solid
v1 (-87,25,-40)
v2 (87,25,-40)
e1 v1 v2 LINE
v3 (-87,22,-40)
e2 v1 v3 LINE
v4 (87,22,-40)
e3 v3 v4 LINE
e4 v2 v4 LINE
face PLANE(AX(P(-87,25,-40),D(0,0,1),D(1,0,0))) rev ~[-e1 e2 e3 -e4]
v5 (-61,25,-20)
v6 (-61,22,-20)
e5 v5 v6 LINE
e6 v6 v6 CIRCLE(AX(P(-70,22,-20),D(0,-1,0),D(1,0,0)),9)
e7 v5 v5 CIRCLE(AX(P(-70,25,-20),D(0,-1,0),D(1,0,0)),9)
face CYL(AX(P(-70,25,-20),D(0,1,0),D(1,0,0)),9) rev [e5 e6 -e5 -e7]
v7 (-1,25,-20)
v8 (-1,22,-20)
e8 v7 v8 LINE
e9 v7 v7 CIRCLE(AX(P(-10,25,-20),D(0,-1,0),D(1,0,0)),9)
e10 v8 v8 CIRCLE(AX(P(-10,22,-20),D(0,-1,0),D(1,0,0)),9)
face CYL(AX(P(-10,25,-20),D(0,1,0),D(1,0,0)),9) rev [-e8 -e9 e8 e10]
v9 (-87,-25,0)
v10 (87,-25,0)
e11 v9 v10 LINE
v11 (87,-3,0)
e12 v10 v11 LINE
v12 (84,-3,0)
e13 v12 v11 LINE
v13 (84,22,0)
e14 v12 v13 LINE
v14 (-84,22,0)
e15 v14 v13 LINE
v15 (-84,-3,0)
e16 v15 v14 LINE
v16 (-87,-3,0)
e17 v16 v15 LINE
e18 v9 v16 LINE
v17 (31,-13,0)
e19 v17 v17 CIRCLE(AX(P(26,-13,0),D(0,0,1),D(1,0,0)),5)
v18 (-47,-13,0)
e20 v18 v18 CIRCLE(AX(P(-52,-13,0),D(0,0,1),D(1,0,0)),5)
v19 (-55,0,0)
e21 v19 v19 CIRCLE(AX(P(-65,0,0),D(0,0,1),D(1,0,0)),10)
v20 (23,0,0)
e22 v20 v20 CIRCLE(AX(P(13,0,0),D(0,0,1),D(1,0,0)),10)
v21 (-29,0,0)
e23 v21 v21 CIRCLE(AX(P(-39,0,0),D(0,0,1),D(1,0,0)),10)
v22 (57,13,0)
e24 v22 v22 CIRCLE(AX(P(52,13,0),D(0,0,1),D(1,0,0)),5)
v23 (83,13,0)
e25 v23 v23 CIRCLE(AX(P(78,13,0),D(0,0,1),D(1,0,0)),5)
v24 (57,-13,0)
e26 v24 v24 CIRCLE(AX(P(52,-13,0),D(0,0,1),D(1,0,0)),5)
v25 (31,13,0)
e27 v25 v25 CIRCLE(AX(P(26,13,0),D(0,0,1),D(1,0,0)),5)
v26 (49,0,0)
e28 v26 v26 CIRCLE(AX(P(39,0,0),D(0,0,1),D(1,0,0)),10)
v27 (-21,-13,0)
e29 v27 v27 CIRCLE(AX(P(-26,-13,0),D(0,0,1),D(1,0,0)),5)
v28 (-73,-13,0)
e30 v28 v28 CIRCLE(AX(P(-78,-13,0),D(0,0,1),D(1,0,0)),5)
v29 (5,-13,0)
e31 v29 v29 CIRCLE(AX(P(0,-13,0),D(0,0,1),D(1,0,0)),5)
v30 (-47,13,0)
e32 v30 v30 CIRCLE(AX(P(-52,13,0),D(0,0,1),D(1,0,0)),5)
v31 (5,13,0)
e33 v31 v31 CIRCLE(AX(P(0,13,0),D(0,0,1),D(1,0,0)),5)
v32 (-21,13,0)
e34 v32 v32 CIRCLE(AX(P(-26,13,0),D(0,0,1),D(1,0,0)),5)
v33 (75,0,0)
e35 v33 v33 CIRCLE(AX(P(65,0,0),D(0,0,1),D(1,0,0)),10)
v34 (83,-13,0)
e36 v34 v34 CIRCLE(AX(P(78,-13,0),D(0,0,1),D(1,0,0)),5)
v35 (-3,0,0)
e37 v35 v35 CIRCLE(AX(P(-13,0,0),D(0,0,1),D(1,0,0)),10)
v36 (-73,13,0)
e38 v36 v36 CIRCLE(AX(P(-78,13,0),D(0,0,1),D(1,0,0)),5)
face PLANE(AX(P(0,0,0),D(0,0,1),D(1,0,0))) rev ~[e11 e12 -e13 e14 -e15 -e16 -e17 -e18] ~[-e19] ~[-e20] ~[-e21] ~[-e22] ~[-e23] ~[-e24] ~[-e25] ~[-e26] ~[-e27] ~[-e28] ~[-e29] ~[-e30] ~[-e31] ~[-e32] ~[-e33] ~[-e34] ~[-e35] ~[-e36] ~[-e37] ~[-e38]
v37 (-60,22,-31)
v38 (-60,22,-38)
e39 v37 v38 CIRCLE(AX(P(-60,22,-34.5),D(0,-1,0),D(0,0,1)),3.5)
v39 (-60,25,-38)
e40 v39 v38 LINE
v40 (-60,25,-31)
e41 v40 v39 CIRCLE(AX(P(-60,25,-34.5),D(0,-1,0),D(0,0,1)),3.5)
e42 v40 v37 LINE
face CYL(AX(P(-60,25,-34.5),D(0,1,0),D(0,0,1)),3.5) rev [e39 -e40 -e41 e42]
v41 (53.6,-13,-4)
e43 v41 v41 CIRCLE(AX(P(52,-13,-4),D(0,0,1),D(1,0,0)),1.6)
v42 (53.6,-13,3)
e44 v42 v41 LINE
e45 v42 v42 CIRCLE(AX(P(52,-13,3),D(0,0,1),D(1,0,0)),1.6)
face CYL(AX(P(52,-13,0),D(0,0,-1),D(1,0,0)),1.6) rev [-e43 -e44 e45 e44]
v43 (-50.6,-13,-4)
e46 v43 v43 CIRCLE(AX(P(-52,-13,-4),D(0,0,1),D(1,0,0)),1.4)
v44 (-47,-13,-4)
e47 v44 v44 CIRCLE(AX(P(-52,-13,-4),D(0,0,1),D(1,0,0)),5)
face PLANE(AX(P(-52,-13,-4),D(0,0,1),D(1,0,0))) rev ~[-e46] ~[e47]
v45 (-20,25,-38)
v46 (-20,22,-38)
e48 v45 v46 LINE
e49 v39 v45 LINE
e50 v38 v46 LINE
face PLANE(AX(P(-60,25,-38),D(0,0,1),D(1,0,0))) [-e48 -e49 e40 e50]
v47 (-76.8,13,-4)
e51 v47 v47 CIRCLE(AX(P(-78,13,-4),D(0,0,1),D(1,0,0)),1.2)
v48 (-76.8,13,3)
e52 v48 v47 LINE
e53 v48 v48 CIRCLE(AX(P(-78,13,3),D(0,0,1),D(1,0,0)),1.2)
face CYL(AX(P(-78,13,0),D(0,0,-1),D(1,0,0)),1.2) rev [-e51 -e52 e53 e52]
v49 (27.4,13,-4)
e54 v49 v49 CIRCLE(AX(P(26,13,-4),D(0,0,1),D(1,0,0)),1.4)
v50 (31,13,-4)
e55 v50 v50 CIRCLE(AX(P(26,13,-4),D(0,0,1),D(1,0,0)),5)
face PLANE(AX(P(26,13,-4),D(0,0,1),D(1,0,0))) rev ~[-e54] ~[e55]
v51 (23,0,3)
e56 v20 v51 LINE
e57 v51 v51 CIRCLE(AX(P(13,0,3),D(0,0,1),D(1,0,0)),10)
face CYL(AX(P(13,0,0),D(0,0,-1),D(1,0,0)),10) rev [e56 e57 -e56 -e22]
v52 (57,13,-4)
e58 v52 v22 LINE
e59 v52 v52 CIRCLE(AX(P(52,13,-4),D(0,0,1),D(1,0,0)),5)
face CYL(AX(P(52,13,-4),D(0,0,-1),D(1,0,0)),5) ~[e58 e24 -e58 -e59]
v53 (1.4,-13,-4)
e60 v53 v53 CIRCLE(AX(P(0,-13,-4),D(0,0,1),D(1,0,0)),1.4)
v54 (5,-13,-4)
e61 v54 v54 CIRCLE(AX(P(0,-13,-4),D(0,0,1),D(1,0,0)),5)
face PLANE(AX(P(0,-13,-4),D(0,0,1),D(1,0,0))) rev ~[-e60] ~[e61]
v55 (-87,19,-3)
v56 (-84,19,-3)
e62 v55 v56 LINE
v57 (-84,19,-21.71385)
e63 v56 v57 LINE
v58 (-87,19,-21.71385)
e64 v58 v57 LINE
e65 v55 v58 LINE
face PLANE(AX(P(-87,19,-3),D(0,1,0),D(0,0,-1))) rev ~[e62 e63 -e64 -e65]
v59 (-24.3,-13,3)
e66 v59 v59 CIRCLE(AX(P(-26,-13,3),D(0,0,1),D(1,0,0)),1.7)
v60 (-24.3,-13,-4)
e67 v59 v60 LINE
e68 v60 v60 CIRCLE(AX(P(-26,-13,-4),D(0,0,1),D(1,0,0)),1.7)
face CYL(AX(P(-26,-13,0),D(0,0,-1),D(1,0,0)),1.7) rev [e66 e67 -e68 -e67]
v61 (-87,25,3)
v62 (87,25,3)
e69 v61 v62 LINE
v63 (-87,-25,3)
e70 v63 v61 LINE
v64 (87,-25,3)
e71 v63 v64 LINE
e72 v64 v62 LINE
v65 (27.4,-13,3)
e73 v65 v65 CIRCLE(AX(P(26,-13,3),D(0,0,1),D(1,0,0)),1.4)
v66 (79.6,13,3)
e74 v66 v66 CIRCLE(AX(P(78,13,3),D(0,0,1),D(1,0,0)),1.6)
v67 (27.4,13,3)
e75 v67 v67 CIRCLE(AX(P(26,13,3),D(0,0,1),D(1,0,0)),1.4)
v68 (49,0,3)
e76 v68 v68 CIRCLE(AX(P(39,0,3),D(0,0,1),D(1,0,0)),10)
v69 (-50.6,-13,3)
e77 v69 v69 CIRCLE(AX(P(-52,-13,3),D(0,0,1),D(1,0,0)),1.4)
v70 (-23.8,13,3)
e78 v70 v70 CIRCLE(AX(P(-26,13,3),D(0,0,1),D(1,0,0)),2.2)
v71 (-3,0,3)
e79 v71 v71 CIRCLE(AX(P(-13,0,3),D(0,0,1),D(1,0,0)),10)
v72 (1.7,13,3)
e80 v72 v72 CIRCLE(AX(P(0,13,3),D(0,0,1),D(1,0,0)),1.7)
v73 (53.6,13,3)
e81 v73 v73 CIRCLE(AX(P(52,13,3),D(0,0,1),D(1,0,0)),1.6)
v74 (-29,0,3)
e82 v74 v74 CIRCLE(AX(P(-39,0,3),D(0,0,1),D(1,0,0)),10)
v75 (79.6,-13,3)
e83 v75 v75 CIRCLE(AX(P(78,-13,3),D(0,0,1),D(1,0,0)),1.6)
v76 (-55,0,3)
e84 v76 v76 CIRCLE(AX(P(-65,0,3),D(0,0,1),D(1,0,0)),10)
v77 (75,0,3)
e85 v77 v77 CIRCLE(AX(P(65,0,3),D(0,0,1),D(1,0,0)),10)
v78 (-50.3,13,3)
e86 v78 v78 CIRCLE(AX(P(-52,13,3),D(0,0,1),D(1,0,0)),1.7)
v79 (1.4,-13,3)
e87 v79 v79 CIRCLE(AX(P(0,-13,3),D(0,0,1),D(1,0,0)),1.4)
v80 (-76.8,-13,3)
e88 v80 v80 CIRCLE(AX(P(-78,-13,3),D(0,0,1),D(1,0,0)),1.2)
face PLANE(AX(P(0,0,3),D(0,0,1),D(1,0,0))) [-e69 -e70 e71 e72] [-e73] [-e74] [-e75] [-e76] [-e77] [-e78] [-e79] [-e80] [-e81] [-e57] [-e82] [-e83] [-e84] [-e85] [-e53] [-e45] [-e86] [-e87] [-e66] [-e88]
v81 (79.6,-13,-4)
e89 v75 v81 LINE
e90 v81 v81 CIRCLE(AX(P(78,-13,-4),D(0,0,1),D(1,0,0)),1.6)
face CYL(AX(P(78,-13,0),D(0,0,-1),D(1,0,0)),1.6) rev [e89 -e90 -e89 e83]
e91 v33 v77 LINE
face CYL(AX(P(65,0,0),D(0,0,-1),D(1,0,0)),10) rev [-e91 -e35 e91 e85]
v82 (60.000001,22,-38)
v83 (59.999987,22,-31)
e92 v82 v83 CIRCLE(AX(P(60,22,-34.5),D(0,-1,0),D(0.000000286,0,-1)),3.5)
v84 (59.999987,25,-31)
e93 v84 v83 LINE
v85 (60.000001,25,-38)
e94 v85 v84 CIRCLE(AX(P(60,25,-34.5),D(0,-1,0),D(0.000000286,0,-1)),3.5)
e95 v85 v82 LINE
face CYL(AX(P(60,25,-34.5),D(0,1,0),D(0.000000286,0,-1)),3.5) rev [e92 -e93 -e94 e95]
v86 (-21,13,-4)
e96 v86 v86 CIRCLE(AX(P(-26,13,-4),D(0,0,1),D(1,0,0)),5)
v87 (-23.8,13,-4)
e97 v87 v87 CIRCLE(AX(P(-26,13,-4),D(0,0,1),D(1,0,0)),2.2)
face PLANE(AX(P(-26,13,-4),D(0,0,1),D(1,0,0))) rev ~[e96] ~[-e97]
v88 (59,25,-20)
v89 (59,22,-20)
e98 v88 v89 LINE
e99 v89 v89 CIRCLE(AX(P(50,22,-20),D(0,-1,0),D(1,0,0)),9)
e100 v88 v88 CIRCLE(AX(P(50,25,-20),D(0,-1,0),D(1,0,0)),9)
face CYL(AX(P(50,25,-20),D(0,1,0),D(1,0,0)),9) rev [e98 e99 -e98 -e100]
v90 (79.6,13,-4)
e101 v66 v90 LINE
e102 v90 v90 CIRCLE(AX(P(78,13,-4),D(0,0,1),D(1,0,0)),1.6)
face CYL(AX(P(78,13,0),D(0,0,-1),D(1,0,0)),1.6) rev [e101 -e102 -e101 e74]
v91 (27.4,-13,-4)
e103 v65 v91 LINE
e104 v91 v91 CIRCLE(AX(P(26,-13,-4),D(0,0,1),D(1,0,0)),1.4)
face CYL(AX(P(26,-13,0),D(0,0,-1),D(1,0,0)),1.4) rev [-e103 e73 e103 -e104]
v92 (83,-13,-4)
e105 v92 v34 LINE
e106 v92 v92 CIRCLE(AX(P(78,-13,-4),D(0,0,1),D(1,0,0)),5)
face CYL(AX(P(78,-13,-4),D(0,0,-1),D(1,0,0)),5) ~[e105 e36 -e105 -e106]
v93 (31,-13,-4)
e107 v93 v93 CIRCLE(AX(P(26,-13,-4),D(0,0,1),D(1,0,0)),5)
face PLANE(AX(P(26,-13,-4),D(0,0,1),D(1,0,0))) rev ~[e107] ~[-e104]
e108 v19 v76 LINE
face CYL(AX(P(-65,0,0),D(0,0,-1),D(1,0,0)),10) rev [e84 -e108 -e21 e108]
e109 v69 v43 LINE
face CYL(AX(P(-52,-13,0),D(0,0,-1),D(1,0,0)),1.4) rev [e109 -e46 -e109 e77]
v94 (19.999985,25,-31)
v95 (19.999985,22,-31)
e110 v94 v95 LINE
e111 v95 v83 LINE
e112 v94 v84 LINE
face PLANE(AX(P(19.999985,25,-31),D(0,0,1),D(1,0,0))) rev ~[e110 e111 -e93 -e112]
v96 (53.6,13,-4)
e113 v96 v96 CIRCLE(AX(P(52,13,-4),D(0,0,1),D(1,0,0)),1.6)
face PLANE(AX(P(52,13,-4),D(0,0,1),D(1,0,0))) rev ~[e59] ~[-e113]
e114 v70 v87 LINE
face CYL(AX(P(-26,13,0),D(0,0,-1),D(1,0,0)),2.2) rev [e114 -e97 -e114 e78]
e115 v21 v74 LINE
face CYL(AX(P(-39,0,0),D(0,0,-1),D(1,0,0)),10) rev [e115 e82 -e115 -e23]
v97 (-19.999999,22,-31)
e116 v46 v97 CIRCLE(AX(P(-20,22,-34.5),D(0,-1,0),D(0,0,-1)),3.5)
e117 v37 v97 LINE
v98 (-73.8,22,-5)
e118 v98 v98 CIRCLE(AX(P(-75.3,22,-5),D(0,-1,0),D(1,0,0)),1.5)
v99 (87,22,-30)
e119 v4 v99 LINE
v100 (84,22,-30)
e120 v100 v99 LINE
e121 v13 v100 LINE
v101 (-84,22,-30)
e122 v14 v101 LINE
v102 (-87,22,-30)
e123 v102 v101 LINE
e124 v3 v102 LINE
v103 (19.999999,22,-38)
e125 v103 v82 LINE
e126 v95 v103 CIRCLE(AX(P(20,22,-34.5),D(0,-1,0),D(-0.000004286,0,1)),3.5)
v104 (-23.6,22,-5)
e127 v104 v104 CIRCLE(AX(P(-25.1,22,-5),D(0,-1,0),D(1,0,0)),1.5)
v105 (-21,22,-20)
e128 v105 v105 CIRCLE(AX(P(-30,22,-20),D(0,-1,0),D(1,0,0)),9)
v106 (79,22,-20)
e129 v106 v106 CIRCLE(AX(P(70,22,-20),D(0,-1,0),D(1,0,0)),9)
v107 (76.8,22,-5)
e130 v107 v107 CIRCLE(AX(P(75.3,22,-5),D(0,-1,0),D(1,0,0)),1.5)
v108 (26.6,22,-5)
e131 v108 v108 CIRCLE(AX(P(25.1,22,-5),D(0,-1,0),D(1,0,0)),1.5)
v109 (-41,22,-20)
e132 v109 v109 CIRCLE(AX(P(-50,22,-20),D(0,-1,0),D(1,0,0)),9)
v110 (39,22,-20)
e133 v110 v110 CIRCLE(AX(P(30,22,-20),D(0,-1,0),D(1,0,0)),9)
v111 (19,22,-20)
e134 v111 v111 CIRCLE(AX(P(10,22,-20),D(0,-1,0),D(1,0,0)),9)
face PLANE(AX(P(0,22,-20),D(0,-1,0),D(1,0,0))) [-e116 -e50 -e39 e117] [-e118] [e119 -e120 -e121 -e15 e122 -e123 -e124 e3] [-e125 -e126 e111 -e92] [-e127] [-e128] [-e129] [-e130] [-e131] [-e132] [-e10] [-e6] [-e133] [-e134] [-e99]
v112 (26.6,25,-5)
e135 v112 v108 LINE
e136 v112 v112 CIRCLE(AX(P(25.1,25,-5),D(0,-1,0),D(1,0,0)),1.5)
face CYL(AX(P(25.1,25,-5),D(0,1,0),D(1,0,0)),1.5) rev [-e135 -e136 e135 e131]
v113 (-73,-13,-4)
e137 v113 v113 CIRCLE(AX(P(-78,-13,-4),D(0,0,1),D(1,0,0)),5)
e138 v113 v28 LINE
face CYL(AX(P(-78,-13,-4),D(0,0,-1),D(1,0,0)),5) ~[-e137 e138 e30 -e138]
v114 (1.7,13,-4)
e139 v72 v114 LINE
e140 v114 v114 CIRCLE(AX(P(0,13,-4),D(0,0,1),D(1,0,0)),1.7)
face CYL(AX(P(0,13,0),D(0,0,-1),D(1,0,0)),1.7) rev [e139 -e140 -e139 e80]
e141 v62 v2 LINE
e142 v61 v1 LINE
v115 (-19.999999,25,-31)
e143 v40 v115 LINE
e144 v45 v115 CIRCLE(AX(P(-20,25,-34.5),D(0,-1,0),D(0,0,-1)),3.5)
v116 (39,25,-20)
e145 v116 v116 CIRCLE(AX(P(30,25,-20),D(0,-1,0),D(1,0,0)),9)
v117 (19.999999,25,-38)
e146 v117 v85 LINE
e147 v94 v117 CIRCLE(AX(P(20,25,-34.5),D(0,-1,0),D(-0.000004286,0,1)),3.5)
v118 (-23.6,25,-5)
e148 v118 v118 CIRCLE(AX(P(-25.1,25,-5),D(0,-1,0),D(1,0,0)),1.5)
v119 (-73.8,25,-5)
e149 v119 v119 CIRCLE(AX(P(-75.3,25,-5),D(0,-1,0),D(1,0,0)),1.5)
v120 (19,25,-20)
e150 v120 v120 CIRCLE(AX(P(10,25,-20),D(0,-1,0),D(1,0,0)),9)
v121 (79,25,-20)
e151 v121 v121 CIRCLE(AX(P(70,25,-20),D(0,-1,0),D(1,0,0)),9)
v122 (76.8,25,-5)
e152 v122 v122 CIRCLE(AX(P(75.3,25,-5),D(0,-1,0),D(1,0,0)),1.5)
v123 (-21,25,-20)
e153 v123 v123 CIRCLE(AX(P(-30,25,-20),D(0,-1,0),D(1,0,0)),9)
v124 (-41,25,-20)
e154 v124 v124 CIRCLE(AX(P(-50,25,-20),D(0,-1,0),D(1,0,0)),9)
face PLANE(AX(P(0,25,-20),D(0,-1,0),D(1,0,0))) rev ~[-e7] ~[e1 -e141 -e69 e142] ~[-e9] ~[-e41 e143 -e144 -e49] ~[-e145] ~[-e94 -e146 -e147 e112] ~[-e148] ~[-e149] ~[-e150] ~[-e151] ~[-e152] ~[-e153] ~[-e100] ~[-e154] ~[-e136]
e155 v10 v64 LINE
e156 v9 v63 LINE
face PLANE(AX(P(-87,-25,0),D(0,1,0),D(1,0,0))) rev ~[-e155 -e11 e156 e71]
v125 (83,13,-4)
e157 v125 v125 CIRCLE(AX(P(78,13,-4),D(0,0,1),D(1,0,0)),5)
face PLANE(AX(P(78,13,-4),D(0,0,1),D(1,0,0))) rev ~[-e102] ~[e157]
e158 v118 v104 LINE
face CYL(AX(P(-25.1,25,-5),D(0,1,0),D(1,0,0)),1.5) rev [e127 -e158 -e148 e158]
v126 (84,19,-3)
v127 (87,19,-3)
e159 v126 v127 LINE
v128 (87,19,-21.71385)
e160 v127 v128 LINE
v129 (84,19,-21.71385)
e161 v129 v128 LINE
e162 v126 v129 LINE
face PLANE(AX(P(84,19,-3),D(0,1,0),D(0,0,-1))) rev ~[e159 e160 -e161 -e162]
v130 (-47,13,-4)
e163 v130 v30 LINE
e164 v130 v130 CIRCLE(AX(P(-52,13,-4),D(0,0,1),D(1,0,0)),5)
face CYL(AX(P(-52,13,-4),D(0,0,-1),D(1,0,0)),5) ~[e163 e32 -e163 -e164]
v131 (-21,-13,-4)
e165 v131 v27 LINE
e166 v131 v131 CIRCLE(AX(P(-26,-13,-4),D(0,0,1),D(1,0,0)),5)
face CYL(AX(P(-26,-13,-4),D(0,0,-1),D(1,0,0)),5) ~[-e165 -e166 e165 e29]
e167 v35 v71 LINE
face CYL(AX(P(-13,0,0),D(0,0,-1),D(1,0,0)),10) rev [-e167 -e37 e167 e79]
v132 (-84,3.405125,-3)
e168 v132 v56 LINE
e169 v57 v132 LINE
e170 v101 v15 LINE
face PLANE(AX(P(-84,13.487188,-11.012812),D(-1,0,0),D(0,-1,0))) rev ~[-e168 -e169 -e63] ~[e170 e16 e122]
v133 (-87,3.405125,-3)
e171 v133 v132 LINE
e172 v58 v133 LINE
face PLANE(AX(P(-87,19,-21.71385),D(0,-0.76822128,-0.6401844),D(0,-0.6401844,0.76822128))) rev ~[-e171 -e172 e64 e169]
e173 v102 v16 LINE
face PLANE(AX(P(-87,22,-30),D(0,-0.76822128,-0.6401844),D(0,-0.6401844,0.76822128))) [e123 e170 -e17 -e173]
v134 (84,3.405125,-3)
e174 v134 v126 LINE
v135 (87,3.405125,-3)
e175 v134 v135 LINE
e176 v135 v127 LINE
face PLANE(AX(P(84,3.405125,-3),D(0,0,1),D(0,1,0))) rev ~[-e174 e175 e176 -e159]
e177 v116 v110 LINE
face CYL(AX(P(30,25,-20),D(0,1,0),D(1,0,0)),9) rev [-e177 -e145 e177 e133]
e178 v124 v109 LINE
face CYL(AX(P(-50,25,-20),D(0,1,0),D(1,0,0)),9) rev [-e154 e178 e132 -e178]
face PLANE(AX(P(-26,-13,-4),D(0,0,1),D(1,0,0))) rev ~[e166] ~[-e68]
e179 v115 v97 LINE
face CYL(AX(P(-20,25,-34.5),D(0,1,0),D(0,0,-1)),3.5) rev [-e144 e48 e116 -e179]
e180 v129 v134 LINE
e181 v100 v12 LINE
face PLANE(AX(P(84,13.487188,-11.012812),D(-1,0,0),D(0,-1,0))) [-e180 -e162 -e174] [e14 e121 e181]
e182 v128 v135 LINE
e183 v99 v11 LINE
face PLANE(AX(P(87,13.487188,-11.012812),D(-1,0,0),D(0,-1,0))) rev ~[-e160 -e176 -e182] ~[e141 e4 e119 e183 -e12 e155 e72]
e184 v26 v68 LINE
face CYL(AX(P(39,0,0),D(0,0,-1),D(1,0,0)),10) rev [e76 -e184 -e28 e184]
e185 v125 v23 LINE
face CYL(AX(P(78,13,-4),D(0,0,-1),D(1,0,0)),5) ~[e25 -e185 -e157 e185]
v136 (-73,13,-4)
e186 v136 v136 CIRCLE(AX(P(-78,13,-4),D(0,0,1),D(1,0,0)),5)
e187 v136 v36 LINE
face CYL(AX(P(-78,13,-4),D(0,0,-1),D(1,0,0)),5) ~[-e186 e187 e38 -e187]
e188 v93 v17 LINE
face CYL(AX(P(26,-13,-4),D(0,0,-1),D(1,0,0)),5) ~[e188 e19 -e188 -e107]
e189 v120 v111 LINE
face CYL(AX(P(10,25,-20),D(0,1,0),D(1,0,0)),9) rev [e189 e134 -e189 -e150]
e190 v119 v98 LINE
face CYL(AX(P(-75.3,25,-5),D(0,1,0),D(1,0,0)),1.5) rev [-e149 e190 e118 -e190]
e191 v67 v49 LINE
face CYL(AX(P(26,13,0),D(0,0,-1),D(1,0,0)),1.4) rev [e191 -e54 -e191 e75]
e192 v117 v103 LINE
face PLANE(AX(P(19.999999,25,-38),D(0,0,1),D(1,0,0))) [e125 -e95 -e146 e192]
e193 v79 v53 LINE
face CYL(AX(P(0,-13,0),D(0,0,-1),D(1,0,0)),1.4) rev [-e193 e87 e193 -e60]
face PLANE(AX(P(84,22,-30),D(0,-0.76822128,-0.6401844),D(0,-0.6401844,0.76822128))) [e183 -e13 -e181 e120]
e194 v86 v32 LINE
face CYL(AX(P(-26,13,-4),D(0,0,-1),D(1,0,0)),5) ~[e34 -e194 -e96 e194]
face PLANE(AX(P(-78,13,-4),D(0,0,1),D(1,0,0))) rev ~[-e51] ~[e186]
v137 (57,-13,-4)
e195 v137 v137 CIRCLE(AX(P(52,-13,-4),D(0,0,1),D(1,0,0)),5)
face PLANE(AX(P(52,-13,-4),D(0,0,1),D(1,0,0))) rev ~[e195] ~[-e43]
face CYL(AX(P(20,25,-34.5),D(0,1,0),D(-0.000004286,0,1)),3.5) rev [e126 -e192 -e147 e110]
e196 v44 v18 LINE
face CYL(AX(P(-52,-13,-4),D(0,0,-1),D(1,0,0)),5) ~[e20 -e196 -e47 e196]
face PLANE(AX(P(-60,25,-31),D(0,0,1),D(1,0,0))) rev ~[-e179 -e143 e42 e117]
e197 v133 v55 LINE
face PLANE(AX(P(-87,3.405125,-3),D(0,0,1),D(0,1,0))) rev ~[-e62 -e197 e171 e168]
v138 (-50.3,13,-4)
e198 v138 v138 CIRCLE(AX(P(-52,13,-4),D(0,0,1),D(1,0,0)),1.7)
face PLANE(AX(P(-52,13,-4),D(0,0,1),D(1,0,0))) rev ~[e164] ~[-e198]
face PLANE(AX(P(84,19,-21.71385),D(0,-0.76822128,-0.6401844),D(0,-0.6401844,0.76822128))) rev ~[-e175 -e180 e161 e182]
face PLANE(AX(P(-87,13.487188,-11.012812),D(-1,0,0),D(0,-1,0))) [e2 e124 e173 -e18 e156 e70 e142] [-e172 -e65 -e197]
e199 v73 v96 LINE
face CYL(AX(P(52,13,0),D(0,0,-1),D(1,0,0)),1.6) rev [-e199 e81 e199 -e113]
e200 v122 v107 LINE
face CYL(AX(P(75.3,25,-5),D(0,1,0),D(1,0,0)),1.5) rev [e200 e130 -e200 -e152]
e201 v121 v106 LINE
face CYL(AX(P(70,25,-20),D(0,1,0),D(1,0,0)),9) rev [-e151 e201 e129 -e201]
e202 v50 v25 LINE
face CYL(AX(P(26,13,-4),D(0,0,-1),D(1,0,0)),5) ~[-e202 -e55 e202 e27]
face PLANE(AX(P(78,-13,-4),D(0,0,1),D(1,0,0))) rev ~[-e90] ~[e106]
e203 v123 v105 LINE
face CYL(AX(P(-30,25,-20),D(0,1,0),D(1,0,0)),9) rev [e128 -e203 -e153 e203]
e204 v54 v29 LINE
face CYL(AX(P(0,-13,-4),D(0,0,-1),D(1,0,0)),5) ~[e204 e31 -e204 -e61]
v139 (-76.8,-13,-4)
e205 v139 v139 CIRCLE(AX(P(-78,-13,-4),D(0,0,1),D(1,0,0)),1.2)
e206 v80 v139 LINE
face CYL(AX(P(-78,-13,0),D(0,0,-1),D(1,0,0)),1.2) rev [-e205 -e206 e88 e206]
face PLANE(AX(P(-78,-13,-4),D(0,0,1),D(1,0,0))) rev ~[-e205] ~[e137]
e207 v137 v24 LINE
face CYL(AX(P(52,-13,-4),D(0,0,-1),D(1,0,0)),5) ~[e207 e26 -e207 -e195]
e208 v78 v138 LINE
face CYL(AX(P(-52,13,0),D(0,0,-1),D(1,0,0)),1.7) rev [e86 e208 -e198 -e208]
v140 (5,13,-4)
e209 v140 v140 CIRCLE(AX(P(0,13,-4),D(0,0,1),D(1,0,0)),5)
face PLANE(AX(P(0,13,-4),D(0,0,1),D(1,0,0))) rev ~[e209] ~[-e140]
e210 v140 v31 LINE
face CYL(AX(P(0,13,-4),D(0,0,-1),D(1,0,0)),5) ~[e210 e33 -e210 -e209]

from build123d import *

# Parameters (mm, degrees)
SKETCH_W      = 174
SKETCH_H      = 50
SKETCH_R      = 1.2
SKETCH_R_2    = 1.7
SKETCH_R_3    = 1.4
SKETCH_R_4    = 2.2
SKETCH_R_5    = 1.6
SKETCH_R_6    = 10
PAD_DEPTH     = 3
SKETCH002_W   = 174
SKETCH002_H   = 40
SKETCH002_R   = 9
SKETCH002_R_2 = 1.5
PAD002_DEPTH  = 3
PAD003_DEPTH  = 3
PAD004_DEPTH  = 3
SKETCH001_R   = 5
SKETCH001_R_2 = 1.2
SKETCH001_R_3 = 1.7
SKETCH001_R_4 = 1.4
SKETCH001_R_5 = 2.2
SKETCH001_R_6 = 1.6
PAD001_DEPTH  = 4


with BuildPart() as pad:
    # Sketch → Pad (new body)
    with BuildSketch(Plane.XY):
        Rectangle(SKETCH_W, SKETCH_H)
        with Locations((-78, 13)):
            Circle(SKETCH_R, mode=Mode.SUBTRACT)
        with Locations((-78, -13)):
            Circle(SKETCH_R, mode=Mode.SUBTRACT)
        with Locations((-52, 13)):
            Circle(SKETCH_R_2, mode=Mode.SUBTRACT)
        with Locations((-52, -13)):
            Circle(SKETCH_R_3, mode=Mode.SUBTRACT)
        with Locations((-26, 13)):
            Circle(SKETCH_R_4, mode=Mode.SUBTRACT)
        with Locations((-26, -13)):
            Circle(SKETCH_R_2, mode=Mode.SUBTRACT)
        with Locations((0, 13)):
            Circle(SKETCH_R_2, mode=Mode.SUBTRACT)
        with Locations((0, -13)):
            Circle(SKETCH_R_3, mode=Mode.SUBTRACT)
        with Locations((26, 13)):
            Circle(SKETCH_R_3, mode=Mode.SUBTRACT)
        with Locations((26, -13)):
            Circle(SKETCH_R_3, mode=Mode.SUBTRACT)
        with Locations((52, 13)):
            Circle(SKETCH_R_5, mode=Mode.SUBTRACT)
        with Locations((52, -13)):
            Circle(SKETCH_R_5, mode=Mode.SUBTRACT)
        with Locations((78, 13)):
            Circle(SKETCH_R_5, mode=Mode.SUBTRACT)
        with Locations((78, -13)):
            Circle(SKETCH_R_5, mode=Mode.SUBTRACT)
        with Locations((-39, 0)):
            Circle(SKETCH_R_6, mode=Mode.SUBTRACT)
        with Locations((-13, 0)):
            Circle(SKETCH_R_6, mode=Mode.SUBTRACT)
        with Locations((13, 0)):
            Circle(SKETCH_R_6, mode=Mode.SUBTRACT)
        with Locations((39, 0)):
            Circle(SKETCH_R_6, mode=Mode.SUBTRACT)
        with Locations((65, 0)):
            Circle(SKETCH_R_6, mode=Mode.SUBTRACT)
        with Locations((-65, 0)):
            Circle(SKETCH_R_6, mode=Mode.SUBTRACT)
    extrude(amount=PAD_DEPTH)


with BuildPart() as pad002:
    # Sketch002 → Pad002 (new body)
    with BuildSketch(Plane(origin=(0, 25, -20), x_dir=(1, 0, 0), z_dir=(0, -1, 0))):
        Rectangle(SKETCH002_W, SKETCH002_H)
        with Locations((-70, 0)):
            Circle(SKETCH002_R, mode=Mode.SUBTRACT)
        with Locations((-50, 0)):
            Circle(SKETCH002_R, mode=Mode.SUBTRACT)
        with Locations((-30, 0)):
            Circle(SKETCH002_R, mode=Mode.SUBTRACT)
        with Locations((-10, 0)):
            Circle(SKETCH002_R, mode=Mode.SUBTRACT)
        with Locations((10, 0)):
            Circle(SKETCH002_R, mode=Mode.SUBTRACT)
        with Locations((30, 0)):
            Circle(SKETCH002_R, mode=Mode.SUBTRACT)
        with Locations((50, 0)):
            Circle(SKETCH002_R, mode=Mode.SUBTRACT)
        with Locations((70, 0)):
            Circle(SKETCH002_R, mode=Mode.SUBTRACT)
        with Locations((-75.3, 15)):
            Circle(SKETCH002_R_2, mode=Mode.SUBTRACT)
        with Locations((-25.1, 15)):
            Circle(SKETCH002_R_2, mode=Mode.SUBTRACT)
        with Locations((25.1, 15)):
            Circle(SKETCH002_R_2, mode=Mode.SUBTRACT)
        with Locations((75.3, 15)):
            Circle(SKETCH002_R_2, mode=Mode.SUBTRACT)
        with BuildLine():
            ThreePointArc((-60, -11), (-63.5, -14.5), (-60, -18))
            Line((-60, -18), (-20, -18))
            ThreePointArc((-20, -18), (-16.5, -14.5), (-19.999999, -11))
            Line((-60, -11), (-19.999999, -11))
        make_face(mode=Mode.SUBTRACT)
        with BuildLine():
            ThreePointArc((19.999985, -11), (16.5, -14.500007), (19.999999, -18))
            Line((19.999999, -18), (60.000001, -18))
            ThreePointArc((60.000001, -18), (63.5, -14.499993), (59.999987, -11))
            Line((19.999985, -11), (59.999987, -11))
        make_face(mode=Mode.SUBTRACT)
    extrude(amount=PAD002_DEPTH)


with BuildPart() as pad003:
    # Sketch003 → Pad003 (new body)
    with BuildSketch(Plane(origin=(-87, 22, 0), x_dir=(0, 1, 0), z_dir=(1, 0, 0))):
        Polygon((-25, 0), (0, 0), (0, -30), align=None)
        Polygon((-18.594875, -3), (-3, -3), (-3, -21.71385), align=None, mode=Mode.SUBTRACT)
    extrude(amount=PAD003_DEPTH)


with BuildPart() as pad004:
    # Sketch004 → Pad004 (new body)
    with BuildSketch(Plane(origin=(84, 22, 0), x_dir=(0, 1, 0), z_dir=(1, 0, 0))):
        Polygon((-25, 0), (0, 0), (0, -30), align=None)
        Polygon((-18.594875, -3), (-3, -3), (-3, -21.71385), align=None, mode=Mode.SUBTRACT)
    extrude(amount=PAD004_DEPTH)


with BuildPart() as fusion:
    # Sketch001 → Pad001 (new body)
    with BuildSketch(Plane.XY.offset(-4)):
        with Locations((-78, 13)):
            Circle(SKETCH001_R)
        with Locations((-78, 13)):
            Circle(SKETCH001_R_2, mode=Mode.SUBTRACT)
        with Locations((-78, -13)):
            Circle(SKETCH001_R)
        with Locations((-78, -13)):
            Circle(SKETCH001_R_2, mode=Mode.SUBTRACT)
        with Locations((-52, 13)):
            Circle(SKETCH001_R)
        with Locations((-52, 13)):
            Circle(SKETCH001_R_3, mode=Mode.SUBTRACT)
        with Locations((-52, -13)):
            Circle(SKETCH001_R)
        with Locations((-52, -13)):
            Circle(SKETCH001_R_4, mode=Mode.SUBTRACT)
        with Locations((-26, 13)):
            Circle(SKETCH001_R)
        with Locations((-26, 13)):
            Circle(SKETCH001_R_5, mode=Mode.SUBTRACT)
        with Locations((-26, -13)):
            Circle(SKETCH001_R)
        with Locations((-26, -13)):
            Circle(SKETCH001_R_3, mode=Mode.SUBTRACT)
        with Locations((0, 13)):
            Circle(SKETCH001_R)
        with Locations((0, 13)):
            Circle(SKETCH001_R_3, mode=Mode.SUBTRACT)
        with Locations((0, -13)):
            Circle(SKETCH001_R)
        with Locations((0, -13)):
            Circle(SKETCH001_R_4, mode=Mode.SUBTRACT)
        with Locations((26, 13)):
            Circle(SKETCH001_R)
        with Locations((26, 13)):
            Circle(SKETCH001_R_4, mode=Mode.SUBTRACT)
        with Locations((26, -13)):
            Circle(SKETCH001_R)
        with Locations((26, -13)):
            Circle(SKETCH001_R_4, mode=Mode.SUBTRACT)
        with Locations((52, 13)):
            Circle(SKETCH001_R)
        with Locations((52, 13)):
            Circle(SKETCH001_R_6, mode=Mode.SUBTRACT)
        with Locations((52, -13)):
            Circle(SKETCH001_R)
        with Locations((52, -13)):
            Circle(SKETCH001_R_6, mode=Mode.SUBTRACT)
        with Locations((78, 13)):
            Circle(SKETCH001_R)
        with Locations((78, 13)):
            Circle(SKETCH001_R_6, mode=Mode.SUBTRACT)
        with Locations((78, -13)):
            Circle(SKETCH001_R)
        with Locations((78, -13)):
            Circle(SKETCH001_R_6, mode=Mode.SUBTRACT)
    extrude(amount=PAD001_DEPTH)

    # Fusion: union Pad, Pad002, Pad003, Pad004
    add(pad.part)
    add(pad002.part)
    add(pad003.part)
    add(pad004.part)


solid = fusion.part
